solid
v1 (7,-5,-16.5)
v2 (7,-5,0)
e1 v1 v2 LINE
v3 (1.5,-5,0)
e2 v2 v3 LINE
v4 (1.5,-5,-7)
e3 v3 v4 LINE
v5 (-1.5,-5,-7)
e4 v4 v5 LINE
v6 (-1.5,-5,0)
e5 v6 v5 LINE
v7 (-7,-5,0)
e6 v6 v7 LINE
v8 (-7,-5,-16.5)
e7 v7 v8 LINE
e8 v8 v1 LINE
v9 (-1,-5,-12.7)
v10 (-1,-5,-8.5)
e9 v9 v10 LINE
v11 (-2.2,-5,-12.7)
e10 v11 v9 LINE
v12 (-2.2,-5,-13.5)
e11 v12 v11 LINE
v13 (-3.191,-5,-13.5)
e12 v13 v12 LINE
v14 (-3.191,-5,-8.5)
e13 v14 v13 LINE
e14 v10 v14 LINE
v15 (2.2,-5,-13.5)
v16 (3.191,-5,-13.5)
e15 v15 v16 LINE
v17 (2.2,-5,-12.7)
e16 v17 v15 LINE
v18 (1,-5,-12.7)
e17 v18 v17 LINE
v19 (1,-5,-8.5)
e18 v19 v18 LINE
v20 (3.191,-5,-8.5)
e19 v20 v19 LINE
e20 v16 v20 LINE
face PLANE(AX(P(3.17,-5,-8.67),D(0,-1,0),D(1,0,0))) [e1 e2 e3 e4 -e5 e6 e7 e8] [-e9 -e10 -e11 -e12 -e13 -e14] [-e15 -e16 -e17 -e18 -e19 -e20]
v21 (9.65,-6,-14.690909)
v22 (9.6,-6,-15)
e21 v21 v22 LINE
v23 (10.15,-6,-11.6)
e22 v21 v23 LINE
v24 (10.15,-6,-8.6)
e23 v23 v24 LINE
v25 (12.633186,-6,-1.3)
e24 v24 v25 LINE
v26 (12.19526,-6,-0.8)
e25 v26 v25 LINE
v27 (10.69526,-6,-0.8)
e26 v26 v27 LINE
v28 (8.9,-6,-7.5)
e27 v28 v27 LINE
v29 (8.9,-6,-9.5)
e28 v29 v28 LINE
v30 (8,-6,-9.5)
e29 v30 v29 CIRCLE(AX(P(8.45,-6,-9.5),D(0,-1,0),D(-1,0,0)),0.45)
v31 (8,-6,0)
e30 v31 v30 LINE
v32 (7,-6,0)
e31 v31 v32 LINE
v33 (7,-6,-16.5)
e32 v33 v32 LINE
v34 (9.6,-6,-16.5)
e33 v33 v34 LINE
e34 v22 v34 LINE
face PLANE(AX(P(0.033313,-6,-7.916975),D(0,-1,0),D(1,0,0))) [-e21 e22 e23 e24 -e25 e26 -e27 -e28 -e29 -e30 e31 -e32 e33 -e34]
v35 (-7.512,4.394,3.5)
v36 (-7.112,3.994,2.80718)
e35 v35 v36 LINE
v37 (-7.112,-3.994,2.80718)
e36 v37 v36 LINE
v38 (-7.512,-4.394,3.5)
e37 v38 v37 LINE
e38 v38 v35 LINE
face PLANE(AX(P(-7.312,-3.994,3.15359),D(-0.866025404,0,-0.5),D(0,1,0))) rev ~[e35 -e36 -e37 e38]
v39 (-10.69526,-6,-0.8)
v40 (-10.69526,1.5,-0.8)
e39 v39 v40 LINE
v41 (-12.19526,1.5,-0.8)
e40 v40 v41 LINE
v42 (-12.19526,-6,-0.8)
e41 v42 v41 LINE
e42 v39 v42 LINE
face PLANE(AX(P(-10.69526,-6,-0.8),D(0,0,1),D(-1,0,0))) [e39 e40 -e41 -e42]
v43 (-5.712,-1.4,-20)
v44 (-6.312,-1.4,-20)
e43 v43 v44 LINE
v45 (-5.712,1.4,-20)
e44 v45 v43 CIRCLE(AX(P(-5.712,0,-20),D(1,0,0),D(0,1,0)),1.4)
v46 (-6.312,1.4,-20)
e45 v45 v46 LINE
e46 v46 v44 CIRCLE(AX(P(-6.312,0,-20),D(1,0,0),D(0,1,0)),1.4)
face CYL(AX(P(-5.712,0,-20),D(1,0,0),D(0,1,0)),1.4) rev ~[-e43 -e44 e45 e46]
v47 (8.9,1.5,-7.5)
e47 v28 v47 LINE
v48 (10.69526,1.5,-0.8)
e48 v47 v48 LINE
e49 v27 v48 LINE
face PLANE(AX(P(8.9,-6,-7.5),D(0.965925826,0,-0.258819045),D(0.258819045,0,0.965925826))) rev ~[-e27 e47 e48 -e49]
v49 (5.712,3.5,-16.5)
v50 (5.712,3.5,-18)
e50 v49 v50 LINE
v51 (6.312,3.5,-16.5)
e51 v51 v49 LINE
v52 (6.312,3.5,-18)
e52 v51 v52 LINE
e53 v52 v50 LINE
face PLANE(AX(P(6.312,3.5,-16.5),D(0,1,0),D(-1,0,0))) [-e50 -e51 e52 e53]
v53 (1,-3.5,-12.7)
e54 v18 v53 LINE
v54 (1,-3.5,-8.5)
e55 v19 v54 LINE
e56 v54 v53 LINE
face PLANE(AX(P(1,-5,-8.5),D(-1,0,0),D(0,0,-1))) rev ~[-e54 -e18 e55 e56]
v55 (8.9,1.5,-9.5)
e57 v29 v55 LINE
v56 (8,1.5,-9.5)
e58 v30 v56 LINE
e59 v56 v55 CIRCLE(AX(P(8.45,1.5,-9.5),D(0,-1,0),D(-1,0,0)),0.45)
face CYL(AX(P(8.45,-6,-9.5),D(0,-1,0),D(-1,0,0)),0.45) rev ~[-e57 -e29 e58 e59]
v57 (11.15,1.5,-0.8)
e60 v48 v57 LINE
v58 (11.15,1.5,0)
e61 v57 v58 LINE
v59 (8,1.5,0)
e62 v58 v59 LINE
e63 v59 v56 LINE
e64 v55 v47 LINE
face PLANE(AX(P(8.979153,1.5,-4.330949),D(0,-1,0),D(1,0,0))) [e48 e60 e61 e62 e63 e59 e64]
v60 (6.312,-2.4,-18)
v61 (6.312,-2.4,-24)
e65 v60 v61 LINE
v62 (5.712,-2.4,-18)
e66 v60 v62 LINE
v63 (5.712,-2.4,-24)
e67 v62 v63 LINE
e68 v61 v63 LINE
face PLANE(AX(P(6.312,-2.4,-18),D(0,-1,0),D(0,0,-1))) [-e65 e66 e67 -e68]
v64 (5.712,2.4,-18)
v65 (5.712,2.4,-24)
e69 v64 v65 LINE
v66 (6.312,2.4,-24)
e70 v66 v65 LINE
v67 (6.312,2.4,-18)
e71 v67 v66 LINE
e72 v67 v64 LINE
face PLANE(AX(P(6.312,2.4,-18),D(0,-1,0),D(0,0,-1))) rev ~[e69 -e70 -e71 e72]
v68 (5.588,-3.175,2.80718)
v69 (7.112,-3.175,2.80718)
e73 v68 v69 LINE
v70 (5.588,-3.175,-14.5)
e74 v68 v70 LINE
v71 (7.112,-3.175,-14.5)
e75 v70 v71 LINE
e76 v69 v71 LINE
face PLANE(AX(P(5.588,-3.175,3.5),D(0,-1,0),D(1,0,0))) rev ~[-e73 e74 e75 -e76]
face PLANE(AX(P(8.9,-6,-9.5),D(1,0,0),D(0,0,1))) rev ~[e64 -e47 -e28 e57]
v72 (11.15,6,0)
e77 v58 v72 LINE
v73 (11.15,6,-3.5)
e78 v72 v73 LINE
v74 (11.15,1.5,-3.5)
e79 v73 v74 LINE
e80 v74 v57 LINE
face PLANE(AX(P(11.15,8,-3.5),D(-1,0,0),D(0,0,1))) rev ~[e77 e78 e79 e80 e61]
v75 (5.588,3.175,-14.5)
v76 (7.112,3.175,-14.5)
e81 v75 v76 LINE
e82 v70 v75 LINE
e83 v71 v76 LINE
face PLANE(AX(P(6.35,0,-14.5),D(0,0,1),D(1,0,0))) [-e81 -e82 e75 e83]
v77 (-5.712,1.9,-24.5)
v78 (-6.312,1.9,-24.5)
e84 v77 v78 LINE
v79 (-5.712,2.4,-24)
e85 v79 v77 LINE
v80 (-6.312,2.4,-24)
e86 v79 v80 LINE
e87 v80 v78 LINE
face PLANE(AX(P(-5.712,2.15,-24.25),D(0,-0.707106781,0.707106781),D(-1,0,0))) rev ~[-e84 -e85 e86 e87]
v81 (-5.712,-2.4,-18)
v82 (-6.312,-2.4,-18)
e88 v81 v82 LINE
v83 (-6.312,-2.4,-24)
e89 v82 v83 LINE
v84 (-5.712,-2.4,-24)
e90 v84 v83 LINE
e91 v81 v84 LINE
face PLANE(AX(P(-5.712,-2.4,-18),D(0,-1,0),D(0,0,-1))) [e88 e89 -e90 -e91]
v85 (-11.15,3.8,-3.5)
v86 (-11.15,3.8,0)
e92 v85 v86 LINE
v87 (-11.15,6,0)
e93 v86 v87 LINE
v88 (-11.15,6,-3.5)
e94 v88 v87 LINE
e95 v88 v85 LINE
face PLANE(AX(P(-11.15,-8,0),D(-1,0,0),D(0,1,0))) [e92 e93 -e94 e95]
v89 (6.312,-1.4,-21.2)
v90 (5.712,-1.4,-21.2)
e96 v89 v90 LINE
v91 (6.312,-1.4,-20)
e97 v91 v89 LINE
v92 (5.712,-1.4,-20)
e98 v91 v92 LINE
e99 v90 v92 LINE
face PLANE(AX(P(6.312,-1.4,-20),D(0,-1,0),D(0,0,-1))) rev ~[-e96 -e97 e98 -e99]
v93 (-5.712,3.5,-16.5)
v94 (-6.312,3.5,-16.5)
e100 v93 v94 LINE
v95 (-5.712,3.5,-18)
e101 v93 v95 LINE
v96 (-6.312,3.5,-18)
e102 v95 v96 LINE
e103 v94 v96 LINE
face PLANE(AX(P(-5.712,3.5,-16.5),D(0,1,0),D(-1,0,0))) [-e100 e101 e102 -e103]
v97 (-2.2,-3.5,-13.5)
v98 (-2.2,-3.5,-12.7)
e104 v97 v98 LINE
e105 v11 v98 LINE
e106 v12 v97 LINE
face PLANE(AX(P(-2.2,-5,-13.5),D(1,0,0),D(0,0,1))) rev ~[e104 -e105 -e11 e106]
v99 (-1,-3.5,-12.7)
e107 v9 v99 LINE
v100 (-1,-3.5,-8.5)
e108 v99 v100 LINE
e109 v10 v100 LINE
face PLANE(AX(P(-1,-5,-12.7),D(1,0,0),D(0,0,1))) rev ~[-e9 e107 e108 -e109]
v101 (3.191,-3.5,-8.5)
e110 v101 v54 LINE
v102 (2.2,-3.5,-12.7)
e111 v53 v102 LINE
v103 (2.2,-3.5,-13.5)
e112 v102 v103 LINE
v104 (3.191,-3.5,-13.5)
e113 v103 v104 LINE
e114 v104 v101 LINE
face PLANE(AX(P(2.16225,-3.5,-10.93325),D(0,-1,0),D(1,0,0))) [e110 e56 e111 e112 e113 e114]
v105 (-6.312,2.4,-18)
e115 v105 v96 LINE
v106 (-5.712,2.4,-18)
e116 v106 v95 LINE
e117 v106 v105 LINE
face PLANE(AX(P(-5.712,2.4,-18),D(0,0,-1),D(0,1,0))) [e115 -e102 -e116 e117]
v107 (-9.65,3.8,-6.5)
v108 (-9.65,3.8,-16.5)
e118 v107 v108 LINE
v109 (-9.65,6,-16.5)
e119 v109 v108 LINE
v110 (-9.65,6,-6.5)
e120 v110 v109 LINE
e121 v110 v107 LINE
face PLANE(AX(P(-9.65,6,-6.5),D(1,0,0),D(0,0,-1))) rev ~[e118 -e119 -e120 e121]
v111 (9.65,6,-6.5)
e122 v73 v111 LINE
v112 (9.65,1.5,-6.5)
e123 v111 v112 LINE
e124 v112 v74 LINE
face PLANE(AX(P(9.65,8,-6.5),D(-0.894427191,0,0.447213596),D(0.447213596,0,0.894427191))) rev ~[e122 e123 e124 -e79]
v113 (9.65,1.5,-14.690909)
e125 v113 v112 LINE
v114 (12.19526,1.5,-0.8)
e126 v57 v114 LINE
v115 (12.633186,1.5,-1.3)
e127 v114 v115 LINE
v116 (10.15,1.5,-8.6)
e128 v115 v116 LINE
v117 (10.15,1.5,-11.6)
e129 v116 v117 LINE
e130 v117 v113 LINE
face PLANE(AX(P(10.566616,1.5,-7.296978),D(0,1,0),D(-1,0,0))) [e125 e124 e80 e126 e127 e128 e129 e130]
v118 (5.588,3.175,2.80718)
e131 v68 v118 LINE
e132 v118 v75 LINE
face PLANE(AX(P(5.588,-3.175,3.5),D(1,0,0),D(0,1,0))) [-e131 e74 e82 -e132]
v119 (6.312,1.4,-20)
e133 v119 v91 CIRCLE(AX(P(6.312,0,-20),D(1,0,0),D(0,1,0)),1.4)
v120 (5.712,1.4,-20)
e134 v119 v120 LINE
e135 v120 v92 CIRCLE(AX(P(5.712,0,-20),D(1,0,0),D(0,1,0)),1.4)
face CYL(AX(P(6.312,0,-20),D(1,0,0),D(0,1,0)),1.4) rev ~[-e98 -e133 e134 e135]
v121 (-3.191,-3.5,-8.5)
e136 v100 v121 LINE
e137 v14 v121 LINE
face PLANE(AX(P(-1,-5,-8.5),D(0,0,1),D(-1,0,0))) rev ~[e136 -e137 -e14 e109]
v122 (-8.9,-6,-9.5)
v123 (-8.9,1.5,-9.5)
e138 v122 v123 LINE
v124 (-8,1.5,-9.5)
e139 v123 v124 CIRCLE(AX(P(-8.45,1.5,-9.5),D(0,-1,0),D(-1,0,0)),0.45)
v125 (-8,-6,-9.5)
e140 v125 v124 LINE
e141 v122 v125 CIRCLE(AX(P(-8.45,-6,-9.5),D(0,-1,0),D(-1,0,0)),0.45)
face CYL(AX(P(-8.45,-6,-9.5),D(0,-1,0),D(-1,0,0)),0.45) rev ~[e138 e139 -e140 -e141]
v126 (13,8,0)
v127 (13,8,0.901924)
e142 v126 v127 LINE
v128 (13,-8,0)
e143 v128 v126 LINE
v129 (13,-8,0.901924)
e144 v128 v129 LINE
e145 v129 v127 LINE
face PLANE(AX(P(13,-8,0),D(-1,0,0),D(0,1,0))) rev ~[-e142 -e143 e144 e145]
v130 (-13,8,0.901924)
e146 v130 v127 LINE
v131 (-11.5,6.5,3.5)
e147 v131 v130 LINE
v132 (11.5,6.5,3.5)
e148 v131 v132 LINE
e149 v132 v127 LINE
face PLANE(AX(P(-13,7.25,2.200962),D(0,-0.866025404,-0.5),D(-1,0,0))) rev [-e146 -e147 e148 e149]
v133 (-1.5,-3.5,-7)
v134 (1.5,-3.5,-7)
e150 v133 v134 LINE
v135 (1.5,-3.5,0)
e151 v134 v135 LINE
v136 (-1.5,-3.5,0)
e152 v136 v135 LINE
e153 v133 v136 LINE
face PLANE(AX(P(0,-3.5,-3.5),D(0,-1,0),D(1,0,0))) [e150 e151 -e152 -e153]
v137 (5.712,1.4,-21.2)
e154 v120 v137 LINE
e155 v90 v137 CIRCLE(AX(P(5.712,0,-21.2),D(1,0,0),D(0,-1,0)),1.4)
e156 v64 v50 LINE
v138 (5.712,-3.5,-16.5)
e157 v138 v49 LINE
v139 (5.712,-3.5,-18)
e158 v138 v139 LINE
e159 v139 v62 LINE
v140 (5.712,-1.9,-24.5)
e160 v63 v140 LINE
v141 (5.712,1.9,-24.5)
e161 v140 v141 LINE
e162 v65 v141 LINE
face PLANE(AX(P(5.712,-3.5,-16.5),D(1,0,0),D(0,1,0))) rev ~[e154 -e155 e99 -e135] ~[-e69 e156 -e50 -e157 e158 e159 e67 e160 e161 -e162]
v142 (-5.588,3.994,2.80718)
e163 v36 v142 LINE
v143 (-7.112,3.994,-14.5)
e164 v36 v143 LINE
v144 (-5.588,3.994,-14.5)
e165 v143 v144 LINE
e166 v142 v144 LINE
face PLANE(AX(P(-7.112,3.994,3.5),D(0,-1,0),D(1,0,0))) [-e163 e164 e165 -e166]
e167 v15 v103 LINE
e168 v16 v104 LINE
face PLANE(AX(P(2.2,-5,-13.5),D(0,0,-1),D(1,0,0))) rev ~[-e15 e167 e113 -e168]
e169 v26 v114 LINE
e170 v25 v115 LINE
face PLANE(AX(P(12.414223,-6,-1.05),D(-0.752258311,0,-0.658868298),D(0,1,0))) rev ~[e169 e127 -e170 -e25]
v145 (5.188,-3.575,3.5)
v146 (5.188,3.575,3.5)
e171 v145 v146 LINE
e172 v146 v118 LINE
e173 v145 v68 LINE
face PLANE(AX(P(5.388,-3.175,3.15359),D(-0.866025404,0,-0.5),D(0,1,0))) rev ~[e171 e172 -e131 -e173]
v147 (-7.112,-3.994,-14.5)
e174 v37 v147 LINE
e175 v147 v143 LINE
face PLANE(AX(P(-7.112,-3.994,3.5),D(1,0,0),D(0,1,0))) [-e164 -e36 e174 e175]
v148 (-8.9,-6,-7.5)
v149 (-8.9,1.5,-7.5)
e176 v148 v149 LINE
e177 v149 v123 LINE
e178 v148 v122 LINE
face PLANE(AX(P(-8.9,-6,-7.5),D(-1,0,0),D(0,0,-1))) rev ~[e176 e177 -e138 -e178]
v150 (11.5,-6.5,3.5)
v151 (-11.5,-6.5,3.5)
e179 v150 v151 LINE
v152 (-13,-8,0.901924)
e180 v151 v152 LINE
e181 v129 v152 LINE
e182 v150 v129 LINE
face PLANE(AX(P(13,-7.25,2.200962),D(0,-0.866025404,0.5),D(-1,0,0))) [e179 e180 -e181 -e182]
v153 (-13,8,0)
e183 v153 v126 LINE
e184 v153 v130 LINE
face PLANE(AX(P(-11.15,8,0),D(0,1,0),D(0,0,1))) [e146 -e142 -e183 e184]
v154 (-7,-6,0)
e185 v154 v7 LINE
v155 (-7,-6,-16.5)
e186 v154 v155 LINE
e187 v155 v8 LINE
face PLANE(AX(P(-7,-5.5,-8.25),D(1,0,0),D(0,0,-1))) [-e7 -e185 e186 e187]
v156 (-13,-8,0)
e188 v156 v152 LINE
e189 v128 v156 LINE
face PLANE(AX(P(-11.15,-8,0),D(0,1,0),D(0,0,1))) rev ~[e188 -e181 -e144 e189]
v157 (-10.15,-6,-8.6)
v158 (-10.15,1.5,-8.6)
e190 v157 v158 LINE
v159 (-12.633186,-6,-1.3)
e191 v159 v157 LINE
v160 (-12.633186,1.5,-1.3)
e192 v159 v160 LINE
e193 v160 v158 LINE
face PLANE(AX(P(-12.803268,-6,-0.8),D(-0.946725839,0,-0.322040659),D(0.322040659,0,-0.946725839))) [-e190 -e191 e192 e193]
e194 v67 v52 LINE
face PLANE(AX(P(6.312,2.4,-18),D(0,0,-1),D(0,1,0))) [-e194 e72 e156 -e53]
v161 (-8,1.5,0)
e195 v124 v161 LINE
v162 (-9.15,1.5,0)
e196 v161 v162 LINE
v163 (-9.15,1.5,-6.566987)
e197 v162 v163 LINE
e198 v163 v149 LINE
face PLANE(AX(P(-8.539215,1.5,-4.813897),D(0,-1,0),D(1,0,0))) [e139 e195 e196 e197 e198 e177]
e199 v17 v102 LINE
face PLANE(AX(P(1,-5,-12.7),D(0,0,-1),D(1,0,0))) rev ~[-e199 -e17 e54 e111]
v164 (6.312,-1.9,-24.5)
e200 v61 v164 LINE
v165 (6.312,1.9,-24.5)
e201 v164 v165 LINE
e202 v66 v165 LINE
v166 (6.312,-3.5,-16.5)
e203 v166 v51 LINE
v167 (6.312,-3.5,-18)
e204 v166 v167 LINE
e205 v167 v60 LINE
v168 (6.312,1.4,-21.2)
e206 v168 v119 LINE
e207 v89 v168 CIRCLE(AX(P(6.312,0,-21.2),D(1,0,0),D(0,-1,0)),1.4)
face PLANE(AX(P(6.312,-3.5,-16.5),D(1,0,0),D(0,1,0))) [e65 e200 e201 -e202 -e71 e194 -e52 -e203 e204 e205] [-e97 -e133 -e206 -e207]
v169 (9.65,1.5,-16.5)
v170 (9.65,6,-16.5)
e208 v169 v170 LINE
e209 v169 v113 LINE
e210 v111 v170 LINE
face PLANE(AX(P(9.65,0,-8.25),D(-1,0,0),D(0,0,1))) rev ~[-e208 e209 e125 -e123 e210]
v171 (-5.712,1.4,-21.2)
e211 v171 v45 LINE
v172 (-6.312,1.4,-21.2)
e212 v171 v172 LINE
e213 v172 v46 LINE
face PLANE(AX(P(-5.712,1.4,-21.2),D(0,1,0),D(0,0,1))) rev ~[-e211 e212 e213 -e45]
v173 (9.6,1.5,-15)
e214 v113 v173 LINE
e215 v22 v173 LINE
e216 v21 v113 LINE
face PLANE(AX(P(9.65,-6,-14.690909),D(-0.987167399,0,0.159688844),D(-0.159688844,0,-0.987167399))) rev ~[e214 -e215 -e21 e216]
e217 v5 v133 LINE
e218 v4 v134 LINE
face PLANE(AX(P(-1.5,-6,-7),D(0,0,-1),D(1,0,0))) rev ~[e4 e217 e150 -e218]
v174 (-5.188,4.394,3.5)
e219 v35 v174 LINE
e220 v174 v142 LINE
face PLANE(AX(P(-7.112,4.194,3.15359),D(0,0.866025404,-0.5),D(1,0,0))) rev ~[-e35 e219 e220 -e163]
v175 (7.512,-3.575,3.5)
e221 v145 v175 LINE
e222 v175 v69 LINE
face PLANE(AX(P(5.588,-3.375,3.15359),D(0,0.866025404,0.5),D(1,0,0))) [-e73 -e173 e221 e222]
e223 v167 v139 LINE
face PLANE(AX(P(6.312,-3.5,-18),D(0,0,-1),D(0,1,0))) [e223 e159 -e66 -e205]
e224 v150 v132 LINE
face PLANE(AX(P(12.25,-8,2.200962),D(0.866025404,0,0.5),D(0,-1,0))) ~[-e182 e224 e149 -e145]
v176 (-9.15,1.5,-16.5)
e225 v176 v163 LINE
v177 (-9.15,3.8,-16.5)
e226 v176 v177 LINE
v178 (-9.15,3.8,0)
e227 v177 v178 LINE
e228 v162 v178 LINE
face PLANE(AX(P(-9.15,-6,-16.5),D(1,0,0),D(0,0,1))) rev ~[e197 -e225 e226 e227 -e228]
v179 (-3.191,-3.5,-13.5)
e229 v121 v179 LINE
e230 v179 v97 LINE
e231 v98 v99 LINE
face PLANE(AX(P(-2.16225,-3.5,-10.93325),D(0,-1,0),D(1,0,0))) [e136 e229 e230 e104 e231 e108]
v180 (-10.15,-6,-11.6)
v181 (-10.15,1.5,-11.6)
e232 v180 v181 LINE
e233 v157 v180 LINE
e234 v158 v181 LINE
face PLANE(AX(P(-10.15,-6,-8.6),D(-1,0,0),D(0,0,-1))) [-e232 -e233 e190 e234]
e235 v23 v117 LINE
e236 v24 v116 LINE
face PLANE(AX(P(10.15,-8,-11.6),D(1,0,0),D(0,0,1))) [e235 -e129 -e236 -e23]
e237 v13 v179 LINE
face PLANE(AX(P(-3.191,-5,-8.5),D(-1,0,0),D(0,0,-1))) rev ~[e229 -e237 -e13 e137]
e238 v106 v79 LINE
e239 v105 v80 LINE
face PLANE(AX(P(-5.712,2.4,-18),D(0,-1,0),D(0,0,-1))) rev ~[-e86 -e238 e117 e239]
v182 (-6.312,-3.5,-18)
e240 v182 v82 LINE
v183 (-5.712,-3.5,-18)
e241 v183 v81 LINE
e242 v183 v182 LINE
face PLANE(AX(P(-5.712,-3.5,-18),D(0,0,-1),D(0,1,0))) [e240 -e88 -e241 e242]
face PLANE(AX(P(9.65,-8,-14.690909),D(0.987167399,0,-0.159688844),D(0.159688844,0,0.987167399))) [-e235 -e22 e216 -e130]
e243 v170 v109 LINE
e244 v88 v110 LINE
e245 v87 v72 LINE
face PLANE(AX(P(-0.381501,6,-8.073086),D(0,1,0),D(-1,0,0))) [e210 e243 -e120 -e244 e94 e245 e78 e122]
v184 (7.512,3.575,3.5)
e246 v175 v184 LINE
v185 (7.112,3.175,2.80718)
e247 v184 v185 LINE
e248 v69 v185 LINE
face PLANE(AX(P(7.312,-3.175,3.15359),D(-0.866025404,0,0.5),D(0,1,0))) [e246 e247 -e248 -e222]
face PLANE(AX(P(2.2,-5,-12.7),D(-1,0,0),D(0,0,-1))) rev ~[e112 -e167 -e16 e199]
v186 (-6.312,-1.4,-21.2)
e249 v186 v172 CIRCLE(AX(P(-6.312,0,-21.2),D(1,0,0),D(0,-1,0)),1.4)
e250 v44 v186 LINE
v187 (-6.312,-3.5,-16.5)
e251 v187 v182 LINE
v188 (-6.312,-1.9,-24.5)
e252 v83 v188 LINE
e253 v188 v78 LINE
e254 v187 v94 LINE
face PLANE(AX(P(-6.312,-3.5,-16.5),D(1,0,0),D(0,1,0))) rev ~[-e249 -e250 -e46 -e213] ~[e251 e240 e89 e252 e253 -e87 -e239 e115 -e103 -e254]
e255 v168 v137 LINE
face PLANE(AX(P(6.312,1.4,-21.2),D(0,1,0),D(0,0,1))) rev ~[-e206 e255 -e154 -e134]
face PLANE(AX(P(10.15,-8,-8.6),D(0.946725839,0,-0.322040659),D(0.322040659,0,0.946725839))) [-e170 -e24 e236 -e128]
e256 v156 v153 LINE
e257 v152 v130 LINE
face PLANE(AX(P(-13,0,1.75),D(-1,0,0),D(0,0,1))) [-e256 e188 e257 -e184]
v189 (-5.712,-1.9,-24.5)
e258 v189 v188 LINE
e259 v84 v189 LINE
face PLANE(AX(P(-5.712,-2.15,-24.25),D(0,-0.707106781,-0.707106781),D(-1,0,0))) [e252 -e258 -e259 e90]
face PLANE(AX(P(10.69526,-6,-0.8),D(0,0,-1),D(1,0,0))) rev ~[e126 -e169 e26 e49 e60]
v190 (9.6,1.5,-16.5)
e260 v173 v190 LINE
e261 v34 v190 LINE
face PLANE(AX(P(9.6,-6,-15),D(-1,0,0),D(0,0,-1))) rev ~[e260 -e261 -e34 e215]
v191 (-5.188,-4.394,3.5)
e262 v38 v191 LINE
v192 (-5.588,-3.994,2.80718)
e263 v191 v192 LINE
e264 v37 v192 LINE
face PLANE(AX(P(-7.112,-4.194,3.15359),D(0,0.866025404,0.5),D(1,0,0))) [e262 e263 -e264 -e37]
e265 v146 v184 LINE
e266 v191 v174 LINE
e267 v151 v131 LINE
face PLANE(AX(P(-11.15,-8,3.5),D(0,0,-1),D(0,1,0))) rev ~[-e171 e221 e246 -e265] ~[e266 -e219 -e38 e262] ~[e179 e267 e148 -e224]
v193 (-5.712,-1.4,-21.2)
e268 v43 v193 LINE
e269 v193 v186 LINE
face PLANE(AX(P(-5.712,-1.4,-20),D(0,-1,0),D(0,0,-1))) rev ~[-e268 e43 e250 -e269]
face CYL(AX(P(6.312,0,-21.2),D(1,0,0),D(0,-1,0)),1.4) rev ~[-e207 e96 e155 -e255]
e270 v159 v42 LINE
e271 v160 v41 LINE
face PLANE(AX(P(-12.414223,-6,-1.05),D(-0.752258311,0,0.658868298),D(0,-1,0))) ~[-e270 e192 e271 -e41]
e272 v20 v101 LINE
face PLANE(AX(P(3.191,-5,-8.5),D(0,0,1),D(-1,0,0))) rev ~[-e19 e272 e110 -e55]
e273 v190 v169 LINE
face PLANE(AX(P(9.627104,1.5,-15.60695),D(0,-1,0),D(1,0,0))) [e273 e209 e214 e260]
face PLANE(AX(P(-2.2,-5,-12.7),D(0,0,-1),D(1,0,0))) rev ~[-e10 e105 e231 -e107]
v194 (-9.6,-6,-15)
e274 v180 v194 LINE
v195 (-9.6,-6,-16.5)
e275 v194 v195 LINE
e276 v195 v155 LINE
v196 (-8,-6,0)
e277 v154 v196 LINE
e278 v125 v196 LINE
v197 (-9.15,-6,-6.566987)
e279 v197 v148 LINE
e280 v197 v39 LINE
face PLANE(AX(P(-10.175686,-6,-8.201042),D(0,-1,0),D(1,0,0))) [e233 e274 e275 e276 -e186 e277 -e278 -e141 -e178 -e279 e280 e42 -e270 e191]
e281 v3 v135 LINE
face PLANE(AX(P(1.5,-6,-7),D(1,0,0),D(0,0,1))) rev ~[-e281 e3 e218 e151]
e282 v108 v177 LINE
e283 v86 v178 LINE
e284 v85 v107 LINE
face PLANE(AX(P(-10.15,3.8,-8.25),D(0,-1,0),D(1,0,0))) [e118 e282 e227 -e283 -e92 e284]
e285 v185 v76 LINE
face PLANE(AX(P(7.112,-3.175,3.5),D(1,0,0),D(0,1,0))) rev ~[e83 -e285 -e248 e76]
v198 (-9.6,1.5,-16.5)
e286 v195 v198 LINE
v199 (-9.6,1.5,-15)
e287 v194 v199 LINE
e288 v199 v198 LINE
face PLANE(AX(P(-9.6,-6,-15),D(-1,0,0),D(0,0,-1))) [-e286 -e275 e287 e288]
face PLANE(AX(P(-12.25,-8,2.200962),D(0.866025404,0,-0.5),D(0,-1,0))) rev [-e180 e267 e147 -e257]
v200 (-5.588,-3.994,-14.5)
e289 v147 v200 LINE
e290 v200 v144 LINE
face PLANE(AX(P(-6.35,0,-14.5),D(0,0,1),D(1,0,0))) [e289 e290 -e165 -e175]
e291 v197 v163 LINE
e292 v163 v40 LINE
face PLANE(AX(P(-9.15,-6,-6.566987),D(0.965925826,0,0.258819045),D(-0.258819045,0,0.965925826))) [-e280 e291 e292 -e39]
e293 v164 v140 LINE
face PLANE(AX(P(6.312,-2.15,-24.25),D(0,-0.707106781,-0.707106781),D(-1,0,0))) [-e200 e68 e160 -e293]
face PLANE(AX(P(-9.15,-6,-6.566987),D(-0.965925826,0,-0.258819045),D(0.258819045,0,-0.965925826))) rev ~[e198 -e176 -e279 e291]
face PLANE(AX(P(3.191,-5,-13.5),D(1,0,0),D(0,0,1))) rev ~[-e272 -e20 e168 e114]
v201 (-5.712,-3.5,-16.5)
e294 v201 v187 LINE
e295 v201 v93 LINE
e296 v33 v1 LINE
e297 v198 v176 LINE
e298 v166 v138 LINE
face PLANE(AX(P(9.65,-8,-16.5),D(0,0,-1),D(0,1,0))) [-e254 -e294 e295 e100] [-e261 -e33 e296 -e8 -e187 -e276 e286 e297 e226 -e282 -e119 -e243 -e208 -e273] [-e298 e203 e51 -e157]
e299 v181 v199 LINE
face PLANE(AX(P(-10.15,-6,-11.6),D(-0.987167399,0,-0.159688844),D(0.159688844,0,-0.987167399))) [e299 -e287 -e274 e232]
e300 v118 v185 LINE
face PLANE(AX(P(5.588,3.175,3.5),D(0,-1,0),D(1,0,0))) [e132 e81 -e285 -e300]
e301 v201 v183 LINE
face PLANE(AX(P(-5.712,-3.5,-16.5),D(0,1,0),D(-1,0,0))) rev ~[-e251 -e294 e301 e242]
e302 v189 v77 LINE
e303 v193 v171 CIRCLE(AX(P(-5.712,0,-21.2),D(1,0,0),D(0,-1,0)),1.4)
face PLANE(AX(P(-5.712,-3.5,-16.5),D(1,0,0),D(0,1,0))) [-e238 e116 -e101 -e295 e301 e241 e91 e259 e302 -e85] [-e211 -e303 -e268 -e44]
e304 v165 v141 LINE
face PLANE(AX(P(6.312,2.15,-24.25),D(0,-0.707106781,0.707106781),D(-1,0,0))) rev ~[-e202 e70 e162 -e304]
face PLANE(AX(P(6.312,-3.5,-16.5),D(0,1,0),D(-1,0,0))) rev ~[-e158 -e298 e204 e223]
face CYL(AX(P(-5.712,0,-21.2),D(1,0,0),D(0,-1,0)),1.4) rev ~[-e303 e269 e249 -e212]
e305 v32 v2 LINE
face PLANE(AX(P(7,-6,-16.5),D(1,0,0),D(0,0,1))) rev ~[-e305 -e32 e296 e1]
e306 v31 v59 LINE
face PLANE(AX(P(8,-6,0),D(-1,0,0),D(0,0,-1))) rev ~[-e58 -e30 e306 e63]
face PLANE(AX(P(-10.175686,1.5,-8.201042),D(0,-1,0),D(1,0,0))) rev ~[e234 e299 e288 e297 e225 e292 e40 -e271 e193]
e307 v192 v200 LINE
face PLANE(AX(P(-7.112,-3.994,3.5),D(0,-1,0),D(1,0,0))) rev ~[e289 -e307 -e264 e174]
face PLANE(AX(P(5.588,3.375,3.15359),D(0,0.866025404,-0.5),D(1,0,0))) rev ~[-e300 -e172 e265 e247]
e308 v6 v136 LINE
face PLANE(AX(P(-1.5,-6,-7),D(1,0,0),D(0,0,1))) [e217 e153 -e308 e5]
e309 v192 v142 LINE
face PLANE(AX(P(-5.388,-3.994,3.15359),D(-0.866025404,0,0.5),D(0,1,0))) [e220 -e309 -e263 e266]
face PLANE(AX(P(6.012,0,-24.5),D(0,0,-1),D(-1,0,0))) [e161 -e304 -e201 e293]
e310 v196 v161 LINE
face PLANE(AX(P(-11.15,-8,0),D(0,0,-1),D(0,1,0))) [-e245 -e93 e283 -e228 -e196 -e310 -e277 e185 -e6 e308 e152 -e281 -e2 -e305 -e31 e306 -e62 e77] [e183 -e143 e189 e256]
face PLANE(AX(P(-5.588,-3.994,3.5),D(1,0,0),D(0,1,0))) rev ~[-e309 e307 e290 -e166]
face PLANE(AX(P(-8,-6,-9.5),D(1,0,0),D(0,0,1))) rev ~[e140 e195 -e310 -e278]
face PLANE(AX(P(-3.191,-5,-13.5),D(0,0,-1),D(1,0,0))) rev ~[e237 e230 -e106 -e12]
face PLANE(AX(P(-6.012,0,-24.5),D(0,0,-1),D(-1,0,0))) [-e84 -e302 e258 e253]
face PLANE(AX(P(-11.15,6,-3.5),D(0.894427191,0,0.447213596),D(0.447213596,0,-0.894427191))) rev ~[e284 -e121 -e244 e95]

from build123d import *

# Parameters (mm, degrees)
BOSS_EXTRUDE1_DEPTH = 16
SKETCH2_W           = 1.5
SKETCH2_H           = 16
BOSS_EXTRUDE2_DEPTH = 0.8
SKETCH3_W           = 16.5
SKETCH3_H           = 16
BOSS_EXTRUDE3_DEPTH = 20.8
SKETCH4_W           = 24.15
SKETCH4_H           = 16
BOSS_EXTRUDE4_DEPTH = 3.5
CUT_EXTRUDE1_DEPTH  = 6.5
CUT_EXTRUDE2_DEPTH  = 2
CUT_EXTRUDE3_DEPTH  = 2
SKETCH8_W           = 3
SKETCH8_H           = 7
CUT_EXTRUDE4_DEPTH  = 2.5
CUT_EXTRUDE5_DEPTH  = 1
SKETCH10_W          = 3.5
SKETCH10_H          = 16
BOSS_EXTRUDE5_DEPTH = 1.85
SKETCH11_W          = 2
SKETCH11_H          = 16.5
CUT_EXTRUDE6_DEPTH  = 9.8
SKETCH12_W          = 16.5
SKETCH12_H          = 1
CUT_EXTRUDE7_DEPTH  = 5.5
BOSS_EXTRUDE6_DEPTH = 7.5
CUT_EXTRUDE8_DEPTH  = 7.5
CUT_EXTRUDE9_DEPTH  = 7.5
SKETCH16_W          = 0.6
SKETCH16_H          = 7
BOSS_EXTRUDE7_DEPTH = 8
SKETCH17_W          = 6.5
SKETCH17_H          = 1.1
CUT_EXTRUDE10_DEPTH = 33.205641493
SKETCH18_W          = 6.5
SKETCH18_H          = 1.1
CUT_EXTRUDE11_DEPTH = 33.205641493
SKETCH19_W          = 0.6
SKETCH19_H          = 7
BOSS_EXTRUDE8_DEPTH = 8
SKETCH20_W          = 6.5
SKETCH20_H          = 1.1
CUT_EXTRUDE12_DEPTH = 32.849473214
SKETCH21_W          = 6.5
SKETCH21_H          = 1.1
CUT_EXTRUDE13_DEPTH = 32.849473214
CUT_EXTRUDE14_REACH = 33.068
CUT_EXTRUDE15_REACH = 34.206
CUT_EXTRUDE16_DEPTH = 32.849473214
CUT_EXTRUDE17_DEPTH = 7.5
CUT_EXTRUDE18_DEPTH = 1.5
CUT_EXTRUDE19_DEPTH = 1.5
SKETCH28_W          = 1.524
SKETCH28_H          = 7.988
CUT_EXTRUDE20_DEPTH = 18
SKETCH29_W          = 1.524
SKETCH29_H          = 6.35
CUT_EXTRUDE21_DEPTH = 18
CHAMFER1_SIZE       = 0.5
CHAMFER2_SIZE       = 0.528136002
CHAMFER2_SIZE2      = 0.608008164
CHAMFER3_SIZE       = 0.4
CHAMFER3_SIZE2      = 0.692820323
CHAMFER4_SIZE       = 0.608008164
CHAMFER4_SIZE2      = 0.528136002
CHAMFER5_SIZE       = 1.5
CHAMFER5_SIZE2      = 2.598076211


with BuildPart() as part:
    # Sketch1 → Boss-Extrude1 (new body)
    with BuildSketch(Plane.XZ.offset(8)):
        Polygon((12.803267754, -0.8), (9.65, -0.8), (9.65, -14.690909091), (10.15, -11.6), (10.15, -8.6), align=None)
    extrude(amount=-BOSS_EXTRUDE1_DEPTH)

    # Sketch2 → Boss-Extrude2 (add)
    with BuildSketch(Plane.XY.offset(-0.8)):
        with Locations((10.4, 0)):
            Rectangle(SKETCH2_W, SKETCH2_H)
    extrude(amount=BOSS_EXTRUDE2_DEPTH)

    # Sketch3 → Boss-Extrude3 (add)
    with BuildSketch(Plane.ZY.offset(-9.65)):
        with Locations((-8.25, 0)):
            Rectangle(SKETCH3_W, SKETCH3_H)
    extrude(amount=BOSS_EXTRUDE3_DEPTH)

    # Sketch4 → Boss-Extrude4 (add)
    with BuildSketch(Plane.XY):
        with Locations((0.925, 0)):
            Rectangle(SKETCH4_W, SKETCH4_H)
    extrude(amount=BOSS_EXTRUDE4_DEPTH)

    # Sketch5 → Cut-Extrude1 (cut)
    with BuildSketch(Plane(origin=(0, 8, 0), x_dir=(-1, 0, 0), z_dir=(0, 1, 0))):
        Polygon((-9.65, -14.690909091), (-9.65, -6.5), (-11.15, -3.5), (-11.15, -0.8), (-12.803267754, -0.8), (-10.15, -8.6), (-10.15, -11.6), align=None)
    extrude(amount=-CUT_EXTRUDE1_DEPTH, mode=Mode.SUBTRACT)

    # Sketch6 → Cut-Extrude2 (cut)
    with BuildSketch(Plane(origin=(0, 8, 0), x_dir=(-1, 0, 0), z_dir=(0, 1, 0))):
        Polygon((-11.15, 0), (-11.15, -3.5), (-9.65, -6.5), (-9.65, -16.5), (11.15, -16.5), (11.15, 0), align=None)
    extrude(amount=-CUT_EXTRUDE2_DEPTH, mode=Mode.SUBTRACT)

    # Sketch7 → Cut-Extrude3 (cut)
    with BuildSketch(Plane.XZ.offset(8)):
        Polygon((11.15, -0.8), (11.15, 0), (-11.15, 0), (-11.15, -16.5), (9.65, -16.5), (9.65, -14.690909091), (10.15, -11.6), (10.15, -8.6), (12.803267754, -0.8), align=None)
    extrude(amount=-CUT_EXTRUDE3_DEPTH, mode=Mode.SUBTRACT)

    # Sketch8 → Cut-Extrude4 (cut)
    with BuildSketch(Plane.XZ.offset(6)):
        with Locations((0, -3.5)):
            Rectangle(SKETCH8_W, SKETCH8_H)
    extrude(amount=-CUT_EXTRUDE4_DEPTH, mode=Mode.SUBTRACT)

    # Sketch9 → Cut-Extrude5 (cut)
    with BuildSketch(Plane.XZ.offset(6)):
        Polygon((-1.5, -7), (-1.5, -16.5), (7, -16.5), (7, 0), (1.5, 0), (1.5, -7), align=None)
    extrude(amount=-CUT_EXTRUDE5_DEPTH, mode=Mode.SUBTRACT)

    # Sketch10 → Boss-Extrude5 (add)
    with BuildSketch(Plane.ZY.offset(11.15)):
        with Locations((1.75, 0)):
            Rectangle(SKETCH10_W, SKETCH10_H)
    extrude(amount=BOSS_EXTRUDE5_DEPTH)

    # Sketch11 → Cut-Extrude6 (cut)
    with BuildSketch(Plane.XZ.offset(6)):
        with Locations((-10.15, -8.25)):
            Rectangle(SKETCH11_W, SKETCH11_H)
    extrude(amount=-CUT_EXTRUDE6_DEPTH, mode=Mode.SUBTRACT)

    # Sketch12 → Cut-Extrude7 (cut)
    with BuildSketch(Plane(origin=(-1.5, 0, 0), x_dir=(0, 0, -1), z_dir=(1, 0, 0))):
        with Locations((8.25, -5.5)):
            Rectangle(SKETCH12_W, SKETCH12_H)
    extrude(amount=-CUT_EXTRUDE7_DEPTH, mode=Mode.SUBTRACT)

    # Sketch13 → Boss-Extrude6 (add)
    with BuildSketch(Plane.XZ.offset(6)):
        Polygon((-9.15, -6.566987298), (-10.695259589, -0.8), (-12.803267754, -0.8), (-10.15, -8.6), (-10.15, -11.6), (-9.6, -15), (-9.6, -16.5), (-9.15, -16.5), align=None)
    extrude(amount=-BOSS_EXTRUDE6_DEPTH)

    # Sketch14 → Cut-Extrude8 (cut)
    with BuildSketch(Plane.XZ.offset(6)):
        with BuildLine():
            Line((-9.15, 0), (-9.15, -6.566987298))
            Line((-9.15, -6.566987298), (-8.9, -7.5))
            Line((-8.9, -7.5), (-8.9, -9.5))
            ThreePointArc((-8.9, -9.5), (-8.45, -9.95), (-8, -9.5))
            Line((-8, -9.5), (-8, 0))
            Line((-8, 0), (-9.15, 0))
        make_face()
    extrude(amount=-CUT_EXTRUDE8_DEPTH, mode=Mode.SUBTRACT)

    # Sketch15 → Cut-Extrude9 (cut)
    with BuildSketch(Plane.XZ.offset(6)):
        with BuildLine():
            Line((8.9, -9.5), (8.9, -7.5))
            Line((8.9, -7.5), (10.695259589, -0.8))
            Line((10.695259589, -0.8), (11.15, -0.8))
            Line((11.15, -0.8), (11.15, 0))
            Line((11.15, 0), (8, 0))
            Line((8, 0), (8, -9.5))
            ThreePointArc((8, -9.5), (8.45, -9.95), (8.9, -9.5))
        make_face()
    extrude(amount=-CUT_EXTRUDE9_DEPTH, mode=Mode.SUBTRACT)

    # Sketch16 → Boss-Extrude7 (add)
    with BuildSketch(Plane(origin=(0, 0, -16.5), x_dir=(-1, 0, 0), z_dir=(0, 0, -1))):
        with Locations((-6.012, 0)):
            Rectangle(SKETCH16_W, SKETCH16_H)
    extrude(amount=BOSS_EXTRUDE7_DEPTH)

    # Sketch17 → Cut-Extrude10 (cut, through all)
    with BuildSketch(Plane(origin=(6.312, 0, 0), x_dir=(0, 0, -1), z_dir=(1, 0, 0))):
        with Locations((21.25, 2.95)):
            Rectangle(SKETCH17_W, SKETCH17_H)
    extrude(amount=-CUT_EXTRUDE10_DEPTH, mode=Mode.SUBTRACT)

    # Sketch18 → Cut-Extrude11 (cut, through all)
    with BuildSketch(Plane(origin=(6.312, 0, 0), x_dir=(0, 0, -1), z_dir=(1, 0, 0))):
        with Locations((21.25, -2.95)):
            Rectangle(SKETCH18_W, SKETCH18_H)
    extrude(amount=-CUT_EXTRUDE11_DEPTH, mode=Mode.SUBTRACT)

    # Sketch19 → Boss-Extrude8 (add)
    with BuildSketch(Plane(origin=(0, 0, -16.5), x_dir=(-1, 0, 0), z_dir=(0, 0, -1))):
        with Locations((6.012, 0)):
            Rectangle(SKETCH19_W, SKETCH19_H)
    extrude(amount=BOSS_EXTRUDE8_DEPTH)

    # Sketch20 → Cut-Extrude12 (cut, through all)
    with BuildSketch(Plane(origin=(-5.712, 0, 0), x_dir=(0, 0, -1), z_dir=(1, 0, 0))):
        with Locations((21.25, 2.95)):
            Rectangle(SKETCH20_W, SKETCH20_H)
    extrude(amount=-CUT_EXTRUDE12_DEPTH, mode=Mode.SUBTRACT)

    # Sketch21 → Cut-Extrude13 (cut, through all)
    with BuildSketch(Plane(origin=(-5.712, 0, 0), x_dir=(0, 0, -1), z_dir=(1, 0, 0))):
        with Locations((21.25, -2.95)):
            Rectangle(SKETCH21_W, SKETCH21_H)
    extrude(amount=-CUT_EXTRUDE13_DEPTH, mode=Mode.SUBTRACT)

    # Sketch22 → Cut-Extrude14 (cut, up to next)
    with BuildSketch(Plane(origin=(0, 6, 0), x_dir=(-1, 0, 0), z_dir=(0, 1, 0)), mode=Mode.PRIVATE) as cut_extrude14_sk1:
        Polygon((11.15, -3.5), (9.65, -6.5), (9.65, -16.5), (11.15, -16.5), align=None)
    cut_extrude14_tool1 = extrude(cut_extrude14_sk1.sketch, amount=-CUT_EXTRUDE14_REACH, mode=Mode.PRIVATE) & part.part
    add(cut_extrude14_tool1.solids().sort_by_distance((-10.432609, 6, -10.717391))[0], mode=Mode.SUBTRACT)

    # Sketch23 → Cut-Extrude15 (cut, up to next)
    with BuildSketch(Plane(origin=(6.312, 0, 0), x_dir=(0, 0, -1), z_dir=(1, 0, 0)), mode=Mode.PRIVATE) as cut_extrude15_sk1:
        with BuildLine():
            Line((20, -1.4), (21.2, -1.4))
            ThreePointArc((21.2, -1.4), (22.6, 0), (21.2, 1.4))
            Line((21.2, 1.4), (20, 1.4))
            ThreePointArc((20, 1.4), (18.6, 0), (20, -1.4))
        make_face()
    cut_extrude15_tool1 = extrude(cut_extrude15_sk1.sketch, amount=-CUT_EXTRUDE15_REACH, mode=Mode.PRIVATE) & part.part
    add(cut_extrude15_tool1.solids().sort_by_distance((6.312, 0, -20.6))[0], mode=Mode.SUBTRACT)

    # Sketch24 → Cut-Extrude16 (cut, through all)
    with BuildSketch(Plane(origin=(-5.712, 0, 0), x_dir=(0, 0, -1), z_dir=(1, 0, 0))):
        with BuildLine():
            Line((20, -1.4), (21.2, -1.4))
            ThreePointArc((21.2, -1.4), (22.6, 0), (21.2, 1.4))
            Line((21.2, 1.4), (20, 1.4))
            ThreePointArc((20, 1.4), (18.6, 0), (20, -1.4))
        make_face()
    extrude(amount=-CUT_EXTRUDE16_DEPTH, mode=Mode.SUBTRACT)

    # Sketch25 → Cut-Extrude17 (cut)
    with BuildSketch(Plane.XZ.offset(6)):
        Polygon((9.6, -15), (9.6, -16.5), (9.65, -16.5), (9.65, -14.690909091), align=None)
    extrude(amount=-CUT_EXTRUDE17_DEPTH, mode=Mode.SUBTRACT)

    # Sketch26 → Cut-Extrude18 (cut)
    with BuildSketch(Plane.XZ.offset(5)):
        Polygon((2.2, -13.5), (3.191, -13.5), (3.191, -8.5), (1, -8.5), (1, -12.7), (2.2, -12.7), align=None)
    extrude(amount=-CUT_EXTRUDE18_DEPTH, mode=Mode.SUBTRACT)

    # Sketch27 → Cut-Extrude19 (cut)
    with BuildSketch(Plane.XZ.offset(5)):
        Polygon((-2.2, -13.5), (-2.2, -12.7), (-1, -12.7), (-1, -8.5), (-3.191, -8.5), (-3.191, -13.5), align=None)
    extrude(amount=-CUT_EXTRUDE19_DEPTH, mode=Mode.SUBTRACT)

    # Sketch28 → Cut-Extrude20 (cut)
    with BuildSketch(Plane.XY.offset(3.5)):
        with Locations((-6.35, 0)):
            Rectangle(SKETCH28_W, SKETCH28_H)
    extrude(amount=-CUT_EXTRUDE20_DEPTH, mode=Mode.SUBTRACT)

    # Sketch29 → Cut-Extrude21 (cut)
    with BuildSketch(Plane.XY.offset(3.5)):
        with Locations((6.35, 0)):
            Rectangle(SKETCH29_W, SKETCH29_H)
    extrude(amount=-CUT_EXTRUDE21_DEPTH, mode=Mode.SUBTRACT)

    # Chamfer1
    chamfer1_edges = [part.edges().sort_by_distance(p)[0] for p in [
        (6.012, 2.4, -24.5),
        (6.012, -2.4, -24.5),
        (-6.012, 2.4, -24.5),
        (-6.012, -2.4, -24.5),
    ]]
    chamfer(chamfer1_edges, length=CHAMFER1_SIZE)

    # Chamfer2
    chamfer2_edges = [part.edges().sort_by_distance(p)[0] for p in [
        (-12.803267754, -2.25, -0.8),
    ]]
    chamfer2_side = [part.faces().sort_by_distance(p)[0] for p in [
        (-11.476633877, -2.25, -4.7),
    ]]
    chamfer(chamfer2_edges, length=CHAMFER2_SIZE, length2=CHAMFER2_SIZE2, reference=chamfer2_side[0])

    # Chamfer3
    chamfer3_edges = [part.edges().sort_by_distance(p)[0] for p in [
        (-6.35, -3.994, 3.5),
        (-5.588, 0, 3.5),
        (-6.35, 3.994, 3.5),
        (-7.112, 0, 3.5),
        (6.35, -3.175, 3.5),
        (7.112, 0, 3.5),
        (6.35, 3.175, 3.5),
        (5.588, 0, 3.5),
    ]]
    chamfer3_side = [part.faces().sort_by_distance(p)[0] for p in [
        (0.040217242, 0, 3.5),
    ]]
    chamfer(chamfer3_edges, length=CHAMFER3_SIZE, length2=CHAMFER3_SIZE2, reference=chamfer3_side[0])

    # Chamfer4
    chamfer4_edges = [part.edges().sort_by_distance(p)[0] for p in [
        (12.803267754, -2.25, -0.8),
    ]]
    chamfer4_side = [part.faces().sort_by_distance(p)[0] for p in [
        (11.749263671, -2.25, -0.8),
    ]]
    chamfer(chamfer4_edges, length=CHAMFER4_SIZE, length2=CHAMFER4_SIZE2, reference=chamfer4_side[0])

    # Chamfer5
    chamfer5_edges = [part.edges().sort_by_distance(p)[0] for p in [
        (-13, 0, 3.5),
        (0, -8, 3.5),
        (13, 0, 3.5),
        (0, 8, 3.5),
    ]]
    chamfer5_side = [part.faces().sort_by_distance(p)[0] for p in [
        (0.06378672, 0, 3.5),
    ]]
    chamfer(chamfer5_edges, length=CHAMFER5_SIZE, length2=CHAMFER5_SIZE2, reference=chamfer5_side[0])


solid = part.part
